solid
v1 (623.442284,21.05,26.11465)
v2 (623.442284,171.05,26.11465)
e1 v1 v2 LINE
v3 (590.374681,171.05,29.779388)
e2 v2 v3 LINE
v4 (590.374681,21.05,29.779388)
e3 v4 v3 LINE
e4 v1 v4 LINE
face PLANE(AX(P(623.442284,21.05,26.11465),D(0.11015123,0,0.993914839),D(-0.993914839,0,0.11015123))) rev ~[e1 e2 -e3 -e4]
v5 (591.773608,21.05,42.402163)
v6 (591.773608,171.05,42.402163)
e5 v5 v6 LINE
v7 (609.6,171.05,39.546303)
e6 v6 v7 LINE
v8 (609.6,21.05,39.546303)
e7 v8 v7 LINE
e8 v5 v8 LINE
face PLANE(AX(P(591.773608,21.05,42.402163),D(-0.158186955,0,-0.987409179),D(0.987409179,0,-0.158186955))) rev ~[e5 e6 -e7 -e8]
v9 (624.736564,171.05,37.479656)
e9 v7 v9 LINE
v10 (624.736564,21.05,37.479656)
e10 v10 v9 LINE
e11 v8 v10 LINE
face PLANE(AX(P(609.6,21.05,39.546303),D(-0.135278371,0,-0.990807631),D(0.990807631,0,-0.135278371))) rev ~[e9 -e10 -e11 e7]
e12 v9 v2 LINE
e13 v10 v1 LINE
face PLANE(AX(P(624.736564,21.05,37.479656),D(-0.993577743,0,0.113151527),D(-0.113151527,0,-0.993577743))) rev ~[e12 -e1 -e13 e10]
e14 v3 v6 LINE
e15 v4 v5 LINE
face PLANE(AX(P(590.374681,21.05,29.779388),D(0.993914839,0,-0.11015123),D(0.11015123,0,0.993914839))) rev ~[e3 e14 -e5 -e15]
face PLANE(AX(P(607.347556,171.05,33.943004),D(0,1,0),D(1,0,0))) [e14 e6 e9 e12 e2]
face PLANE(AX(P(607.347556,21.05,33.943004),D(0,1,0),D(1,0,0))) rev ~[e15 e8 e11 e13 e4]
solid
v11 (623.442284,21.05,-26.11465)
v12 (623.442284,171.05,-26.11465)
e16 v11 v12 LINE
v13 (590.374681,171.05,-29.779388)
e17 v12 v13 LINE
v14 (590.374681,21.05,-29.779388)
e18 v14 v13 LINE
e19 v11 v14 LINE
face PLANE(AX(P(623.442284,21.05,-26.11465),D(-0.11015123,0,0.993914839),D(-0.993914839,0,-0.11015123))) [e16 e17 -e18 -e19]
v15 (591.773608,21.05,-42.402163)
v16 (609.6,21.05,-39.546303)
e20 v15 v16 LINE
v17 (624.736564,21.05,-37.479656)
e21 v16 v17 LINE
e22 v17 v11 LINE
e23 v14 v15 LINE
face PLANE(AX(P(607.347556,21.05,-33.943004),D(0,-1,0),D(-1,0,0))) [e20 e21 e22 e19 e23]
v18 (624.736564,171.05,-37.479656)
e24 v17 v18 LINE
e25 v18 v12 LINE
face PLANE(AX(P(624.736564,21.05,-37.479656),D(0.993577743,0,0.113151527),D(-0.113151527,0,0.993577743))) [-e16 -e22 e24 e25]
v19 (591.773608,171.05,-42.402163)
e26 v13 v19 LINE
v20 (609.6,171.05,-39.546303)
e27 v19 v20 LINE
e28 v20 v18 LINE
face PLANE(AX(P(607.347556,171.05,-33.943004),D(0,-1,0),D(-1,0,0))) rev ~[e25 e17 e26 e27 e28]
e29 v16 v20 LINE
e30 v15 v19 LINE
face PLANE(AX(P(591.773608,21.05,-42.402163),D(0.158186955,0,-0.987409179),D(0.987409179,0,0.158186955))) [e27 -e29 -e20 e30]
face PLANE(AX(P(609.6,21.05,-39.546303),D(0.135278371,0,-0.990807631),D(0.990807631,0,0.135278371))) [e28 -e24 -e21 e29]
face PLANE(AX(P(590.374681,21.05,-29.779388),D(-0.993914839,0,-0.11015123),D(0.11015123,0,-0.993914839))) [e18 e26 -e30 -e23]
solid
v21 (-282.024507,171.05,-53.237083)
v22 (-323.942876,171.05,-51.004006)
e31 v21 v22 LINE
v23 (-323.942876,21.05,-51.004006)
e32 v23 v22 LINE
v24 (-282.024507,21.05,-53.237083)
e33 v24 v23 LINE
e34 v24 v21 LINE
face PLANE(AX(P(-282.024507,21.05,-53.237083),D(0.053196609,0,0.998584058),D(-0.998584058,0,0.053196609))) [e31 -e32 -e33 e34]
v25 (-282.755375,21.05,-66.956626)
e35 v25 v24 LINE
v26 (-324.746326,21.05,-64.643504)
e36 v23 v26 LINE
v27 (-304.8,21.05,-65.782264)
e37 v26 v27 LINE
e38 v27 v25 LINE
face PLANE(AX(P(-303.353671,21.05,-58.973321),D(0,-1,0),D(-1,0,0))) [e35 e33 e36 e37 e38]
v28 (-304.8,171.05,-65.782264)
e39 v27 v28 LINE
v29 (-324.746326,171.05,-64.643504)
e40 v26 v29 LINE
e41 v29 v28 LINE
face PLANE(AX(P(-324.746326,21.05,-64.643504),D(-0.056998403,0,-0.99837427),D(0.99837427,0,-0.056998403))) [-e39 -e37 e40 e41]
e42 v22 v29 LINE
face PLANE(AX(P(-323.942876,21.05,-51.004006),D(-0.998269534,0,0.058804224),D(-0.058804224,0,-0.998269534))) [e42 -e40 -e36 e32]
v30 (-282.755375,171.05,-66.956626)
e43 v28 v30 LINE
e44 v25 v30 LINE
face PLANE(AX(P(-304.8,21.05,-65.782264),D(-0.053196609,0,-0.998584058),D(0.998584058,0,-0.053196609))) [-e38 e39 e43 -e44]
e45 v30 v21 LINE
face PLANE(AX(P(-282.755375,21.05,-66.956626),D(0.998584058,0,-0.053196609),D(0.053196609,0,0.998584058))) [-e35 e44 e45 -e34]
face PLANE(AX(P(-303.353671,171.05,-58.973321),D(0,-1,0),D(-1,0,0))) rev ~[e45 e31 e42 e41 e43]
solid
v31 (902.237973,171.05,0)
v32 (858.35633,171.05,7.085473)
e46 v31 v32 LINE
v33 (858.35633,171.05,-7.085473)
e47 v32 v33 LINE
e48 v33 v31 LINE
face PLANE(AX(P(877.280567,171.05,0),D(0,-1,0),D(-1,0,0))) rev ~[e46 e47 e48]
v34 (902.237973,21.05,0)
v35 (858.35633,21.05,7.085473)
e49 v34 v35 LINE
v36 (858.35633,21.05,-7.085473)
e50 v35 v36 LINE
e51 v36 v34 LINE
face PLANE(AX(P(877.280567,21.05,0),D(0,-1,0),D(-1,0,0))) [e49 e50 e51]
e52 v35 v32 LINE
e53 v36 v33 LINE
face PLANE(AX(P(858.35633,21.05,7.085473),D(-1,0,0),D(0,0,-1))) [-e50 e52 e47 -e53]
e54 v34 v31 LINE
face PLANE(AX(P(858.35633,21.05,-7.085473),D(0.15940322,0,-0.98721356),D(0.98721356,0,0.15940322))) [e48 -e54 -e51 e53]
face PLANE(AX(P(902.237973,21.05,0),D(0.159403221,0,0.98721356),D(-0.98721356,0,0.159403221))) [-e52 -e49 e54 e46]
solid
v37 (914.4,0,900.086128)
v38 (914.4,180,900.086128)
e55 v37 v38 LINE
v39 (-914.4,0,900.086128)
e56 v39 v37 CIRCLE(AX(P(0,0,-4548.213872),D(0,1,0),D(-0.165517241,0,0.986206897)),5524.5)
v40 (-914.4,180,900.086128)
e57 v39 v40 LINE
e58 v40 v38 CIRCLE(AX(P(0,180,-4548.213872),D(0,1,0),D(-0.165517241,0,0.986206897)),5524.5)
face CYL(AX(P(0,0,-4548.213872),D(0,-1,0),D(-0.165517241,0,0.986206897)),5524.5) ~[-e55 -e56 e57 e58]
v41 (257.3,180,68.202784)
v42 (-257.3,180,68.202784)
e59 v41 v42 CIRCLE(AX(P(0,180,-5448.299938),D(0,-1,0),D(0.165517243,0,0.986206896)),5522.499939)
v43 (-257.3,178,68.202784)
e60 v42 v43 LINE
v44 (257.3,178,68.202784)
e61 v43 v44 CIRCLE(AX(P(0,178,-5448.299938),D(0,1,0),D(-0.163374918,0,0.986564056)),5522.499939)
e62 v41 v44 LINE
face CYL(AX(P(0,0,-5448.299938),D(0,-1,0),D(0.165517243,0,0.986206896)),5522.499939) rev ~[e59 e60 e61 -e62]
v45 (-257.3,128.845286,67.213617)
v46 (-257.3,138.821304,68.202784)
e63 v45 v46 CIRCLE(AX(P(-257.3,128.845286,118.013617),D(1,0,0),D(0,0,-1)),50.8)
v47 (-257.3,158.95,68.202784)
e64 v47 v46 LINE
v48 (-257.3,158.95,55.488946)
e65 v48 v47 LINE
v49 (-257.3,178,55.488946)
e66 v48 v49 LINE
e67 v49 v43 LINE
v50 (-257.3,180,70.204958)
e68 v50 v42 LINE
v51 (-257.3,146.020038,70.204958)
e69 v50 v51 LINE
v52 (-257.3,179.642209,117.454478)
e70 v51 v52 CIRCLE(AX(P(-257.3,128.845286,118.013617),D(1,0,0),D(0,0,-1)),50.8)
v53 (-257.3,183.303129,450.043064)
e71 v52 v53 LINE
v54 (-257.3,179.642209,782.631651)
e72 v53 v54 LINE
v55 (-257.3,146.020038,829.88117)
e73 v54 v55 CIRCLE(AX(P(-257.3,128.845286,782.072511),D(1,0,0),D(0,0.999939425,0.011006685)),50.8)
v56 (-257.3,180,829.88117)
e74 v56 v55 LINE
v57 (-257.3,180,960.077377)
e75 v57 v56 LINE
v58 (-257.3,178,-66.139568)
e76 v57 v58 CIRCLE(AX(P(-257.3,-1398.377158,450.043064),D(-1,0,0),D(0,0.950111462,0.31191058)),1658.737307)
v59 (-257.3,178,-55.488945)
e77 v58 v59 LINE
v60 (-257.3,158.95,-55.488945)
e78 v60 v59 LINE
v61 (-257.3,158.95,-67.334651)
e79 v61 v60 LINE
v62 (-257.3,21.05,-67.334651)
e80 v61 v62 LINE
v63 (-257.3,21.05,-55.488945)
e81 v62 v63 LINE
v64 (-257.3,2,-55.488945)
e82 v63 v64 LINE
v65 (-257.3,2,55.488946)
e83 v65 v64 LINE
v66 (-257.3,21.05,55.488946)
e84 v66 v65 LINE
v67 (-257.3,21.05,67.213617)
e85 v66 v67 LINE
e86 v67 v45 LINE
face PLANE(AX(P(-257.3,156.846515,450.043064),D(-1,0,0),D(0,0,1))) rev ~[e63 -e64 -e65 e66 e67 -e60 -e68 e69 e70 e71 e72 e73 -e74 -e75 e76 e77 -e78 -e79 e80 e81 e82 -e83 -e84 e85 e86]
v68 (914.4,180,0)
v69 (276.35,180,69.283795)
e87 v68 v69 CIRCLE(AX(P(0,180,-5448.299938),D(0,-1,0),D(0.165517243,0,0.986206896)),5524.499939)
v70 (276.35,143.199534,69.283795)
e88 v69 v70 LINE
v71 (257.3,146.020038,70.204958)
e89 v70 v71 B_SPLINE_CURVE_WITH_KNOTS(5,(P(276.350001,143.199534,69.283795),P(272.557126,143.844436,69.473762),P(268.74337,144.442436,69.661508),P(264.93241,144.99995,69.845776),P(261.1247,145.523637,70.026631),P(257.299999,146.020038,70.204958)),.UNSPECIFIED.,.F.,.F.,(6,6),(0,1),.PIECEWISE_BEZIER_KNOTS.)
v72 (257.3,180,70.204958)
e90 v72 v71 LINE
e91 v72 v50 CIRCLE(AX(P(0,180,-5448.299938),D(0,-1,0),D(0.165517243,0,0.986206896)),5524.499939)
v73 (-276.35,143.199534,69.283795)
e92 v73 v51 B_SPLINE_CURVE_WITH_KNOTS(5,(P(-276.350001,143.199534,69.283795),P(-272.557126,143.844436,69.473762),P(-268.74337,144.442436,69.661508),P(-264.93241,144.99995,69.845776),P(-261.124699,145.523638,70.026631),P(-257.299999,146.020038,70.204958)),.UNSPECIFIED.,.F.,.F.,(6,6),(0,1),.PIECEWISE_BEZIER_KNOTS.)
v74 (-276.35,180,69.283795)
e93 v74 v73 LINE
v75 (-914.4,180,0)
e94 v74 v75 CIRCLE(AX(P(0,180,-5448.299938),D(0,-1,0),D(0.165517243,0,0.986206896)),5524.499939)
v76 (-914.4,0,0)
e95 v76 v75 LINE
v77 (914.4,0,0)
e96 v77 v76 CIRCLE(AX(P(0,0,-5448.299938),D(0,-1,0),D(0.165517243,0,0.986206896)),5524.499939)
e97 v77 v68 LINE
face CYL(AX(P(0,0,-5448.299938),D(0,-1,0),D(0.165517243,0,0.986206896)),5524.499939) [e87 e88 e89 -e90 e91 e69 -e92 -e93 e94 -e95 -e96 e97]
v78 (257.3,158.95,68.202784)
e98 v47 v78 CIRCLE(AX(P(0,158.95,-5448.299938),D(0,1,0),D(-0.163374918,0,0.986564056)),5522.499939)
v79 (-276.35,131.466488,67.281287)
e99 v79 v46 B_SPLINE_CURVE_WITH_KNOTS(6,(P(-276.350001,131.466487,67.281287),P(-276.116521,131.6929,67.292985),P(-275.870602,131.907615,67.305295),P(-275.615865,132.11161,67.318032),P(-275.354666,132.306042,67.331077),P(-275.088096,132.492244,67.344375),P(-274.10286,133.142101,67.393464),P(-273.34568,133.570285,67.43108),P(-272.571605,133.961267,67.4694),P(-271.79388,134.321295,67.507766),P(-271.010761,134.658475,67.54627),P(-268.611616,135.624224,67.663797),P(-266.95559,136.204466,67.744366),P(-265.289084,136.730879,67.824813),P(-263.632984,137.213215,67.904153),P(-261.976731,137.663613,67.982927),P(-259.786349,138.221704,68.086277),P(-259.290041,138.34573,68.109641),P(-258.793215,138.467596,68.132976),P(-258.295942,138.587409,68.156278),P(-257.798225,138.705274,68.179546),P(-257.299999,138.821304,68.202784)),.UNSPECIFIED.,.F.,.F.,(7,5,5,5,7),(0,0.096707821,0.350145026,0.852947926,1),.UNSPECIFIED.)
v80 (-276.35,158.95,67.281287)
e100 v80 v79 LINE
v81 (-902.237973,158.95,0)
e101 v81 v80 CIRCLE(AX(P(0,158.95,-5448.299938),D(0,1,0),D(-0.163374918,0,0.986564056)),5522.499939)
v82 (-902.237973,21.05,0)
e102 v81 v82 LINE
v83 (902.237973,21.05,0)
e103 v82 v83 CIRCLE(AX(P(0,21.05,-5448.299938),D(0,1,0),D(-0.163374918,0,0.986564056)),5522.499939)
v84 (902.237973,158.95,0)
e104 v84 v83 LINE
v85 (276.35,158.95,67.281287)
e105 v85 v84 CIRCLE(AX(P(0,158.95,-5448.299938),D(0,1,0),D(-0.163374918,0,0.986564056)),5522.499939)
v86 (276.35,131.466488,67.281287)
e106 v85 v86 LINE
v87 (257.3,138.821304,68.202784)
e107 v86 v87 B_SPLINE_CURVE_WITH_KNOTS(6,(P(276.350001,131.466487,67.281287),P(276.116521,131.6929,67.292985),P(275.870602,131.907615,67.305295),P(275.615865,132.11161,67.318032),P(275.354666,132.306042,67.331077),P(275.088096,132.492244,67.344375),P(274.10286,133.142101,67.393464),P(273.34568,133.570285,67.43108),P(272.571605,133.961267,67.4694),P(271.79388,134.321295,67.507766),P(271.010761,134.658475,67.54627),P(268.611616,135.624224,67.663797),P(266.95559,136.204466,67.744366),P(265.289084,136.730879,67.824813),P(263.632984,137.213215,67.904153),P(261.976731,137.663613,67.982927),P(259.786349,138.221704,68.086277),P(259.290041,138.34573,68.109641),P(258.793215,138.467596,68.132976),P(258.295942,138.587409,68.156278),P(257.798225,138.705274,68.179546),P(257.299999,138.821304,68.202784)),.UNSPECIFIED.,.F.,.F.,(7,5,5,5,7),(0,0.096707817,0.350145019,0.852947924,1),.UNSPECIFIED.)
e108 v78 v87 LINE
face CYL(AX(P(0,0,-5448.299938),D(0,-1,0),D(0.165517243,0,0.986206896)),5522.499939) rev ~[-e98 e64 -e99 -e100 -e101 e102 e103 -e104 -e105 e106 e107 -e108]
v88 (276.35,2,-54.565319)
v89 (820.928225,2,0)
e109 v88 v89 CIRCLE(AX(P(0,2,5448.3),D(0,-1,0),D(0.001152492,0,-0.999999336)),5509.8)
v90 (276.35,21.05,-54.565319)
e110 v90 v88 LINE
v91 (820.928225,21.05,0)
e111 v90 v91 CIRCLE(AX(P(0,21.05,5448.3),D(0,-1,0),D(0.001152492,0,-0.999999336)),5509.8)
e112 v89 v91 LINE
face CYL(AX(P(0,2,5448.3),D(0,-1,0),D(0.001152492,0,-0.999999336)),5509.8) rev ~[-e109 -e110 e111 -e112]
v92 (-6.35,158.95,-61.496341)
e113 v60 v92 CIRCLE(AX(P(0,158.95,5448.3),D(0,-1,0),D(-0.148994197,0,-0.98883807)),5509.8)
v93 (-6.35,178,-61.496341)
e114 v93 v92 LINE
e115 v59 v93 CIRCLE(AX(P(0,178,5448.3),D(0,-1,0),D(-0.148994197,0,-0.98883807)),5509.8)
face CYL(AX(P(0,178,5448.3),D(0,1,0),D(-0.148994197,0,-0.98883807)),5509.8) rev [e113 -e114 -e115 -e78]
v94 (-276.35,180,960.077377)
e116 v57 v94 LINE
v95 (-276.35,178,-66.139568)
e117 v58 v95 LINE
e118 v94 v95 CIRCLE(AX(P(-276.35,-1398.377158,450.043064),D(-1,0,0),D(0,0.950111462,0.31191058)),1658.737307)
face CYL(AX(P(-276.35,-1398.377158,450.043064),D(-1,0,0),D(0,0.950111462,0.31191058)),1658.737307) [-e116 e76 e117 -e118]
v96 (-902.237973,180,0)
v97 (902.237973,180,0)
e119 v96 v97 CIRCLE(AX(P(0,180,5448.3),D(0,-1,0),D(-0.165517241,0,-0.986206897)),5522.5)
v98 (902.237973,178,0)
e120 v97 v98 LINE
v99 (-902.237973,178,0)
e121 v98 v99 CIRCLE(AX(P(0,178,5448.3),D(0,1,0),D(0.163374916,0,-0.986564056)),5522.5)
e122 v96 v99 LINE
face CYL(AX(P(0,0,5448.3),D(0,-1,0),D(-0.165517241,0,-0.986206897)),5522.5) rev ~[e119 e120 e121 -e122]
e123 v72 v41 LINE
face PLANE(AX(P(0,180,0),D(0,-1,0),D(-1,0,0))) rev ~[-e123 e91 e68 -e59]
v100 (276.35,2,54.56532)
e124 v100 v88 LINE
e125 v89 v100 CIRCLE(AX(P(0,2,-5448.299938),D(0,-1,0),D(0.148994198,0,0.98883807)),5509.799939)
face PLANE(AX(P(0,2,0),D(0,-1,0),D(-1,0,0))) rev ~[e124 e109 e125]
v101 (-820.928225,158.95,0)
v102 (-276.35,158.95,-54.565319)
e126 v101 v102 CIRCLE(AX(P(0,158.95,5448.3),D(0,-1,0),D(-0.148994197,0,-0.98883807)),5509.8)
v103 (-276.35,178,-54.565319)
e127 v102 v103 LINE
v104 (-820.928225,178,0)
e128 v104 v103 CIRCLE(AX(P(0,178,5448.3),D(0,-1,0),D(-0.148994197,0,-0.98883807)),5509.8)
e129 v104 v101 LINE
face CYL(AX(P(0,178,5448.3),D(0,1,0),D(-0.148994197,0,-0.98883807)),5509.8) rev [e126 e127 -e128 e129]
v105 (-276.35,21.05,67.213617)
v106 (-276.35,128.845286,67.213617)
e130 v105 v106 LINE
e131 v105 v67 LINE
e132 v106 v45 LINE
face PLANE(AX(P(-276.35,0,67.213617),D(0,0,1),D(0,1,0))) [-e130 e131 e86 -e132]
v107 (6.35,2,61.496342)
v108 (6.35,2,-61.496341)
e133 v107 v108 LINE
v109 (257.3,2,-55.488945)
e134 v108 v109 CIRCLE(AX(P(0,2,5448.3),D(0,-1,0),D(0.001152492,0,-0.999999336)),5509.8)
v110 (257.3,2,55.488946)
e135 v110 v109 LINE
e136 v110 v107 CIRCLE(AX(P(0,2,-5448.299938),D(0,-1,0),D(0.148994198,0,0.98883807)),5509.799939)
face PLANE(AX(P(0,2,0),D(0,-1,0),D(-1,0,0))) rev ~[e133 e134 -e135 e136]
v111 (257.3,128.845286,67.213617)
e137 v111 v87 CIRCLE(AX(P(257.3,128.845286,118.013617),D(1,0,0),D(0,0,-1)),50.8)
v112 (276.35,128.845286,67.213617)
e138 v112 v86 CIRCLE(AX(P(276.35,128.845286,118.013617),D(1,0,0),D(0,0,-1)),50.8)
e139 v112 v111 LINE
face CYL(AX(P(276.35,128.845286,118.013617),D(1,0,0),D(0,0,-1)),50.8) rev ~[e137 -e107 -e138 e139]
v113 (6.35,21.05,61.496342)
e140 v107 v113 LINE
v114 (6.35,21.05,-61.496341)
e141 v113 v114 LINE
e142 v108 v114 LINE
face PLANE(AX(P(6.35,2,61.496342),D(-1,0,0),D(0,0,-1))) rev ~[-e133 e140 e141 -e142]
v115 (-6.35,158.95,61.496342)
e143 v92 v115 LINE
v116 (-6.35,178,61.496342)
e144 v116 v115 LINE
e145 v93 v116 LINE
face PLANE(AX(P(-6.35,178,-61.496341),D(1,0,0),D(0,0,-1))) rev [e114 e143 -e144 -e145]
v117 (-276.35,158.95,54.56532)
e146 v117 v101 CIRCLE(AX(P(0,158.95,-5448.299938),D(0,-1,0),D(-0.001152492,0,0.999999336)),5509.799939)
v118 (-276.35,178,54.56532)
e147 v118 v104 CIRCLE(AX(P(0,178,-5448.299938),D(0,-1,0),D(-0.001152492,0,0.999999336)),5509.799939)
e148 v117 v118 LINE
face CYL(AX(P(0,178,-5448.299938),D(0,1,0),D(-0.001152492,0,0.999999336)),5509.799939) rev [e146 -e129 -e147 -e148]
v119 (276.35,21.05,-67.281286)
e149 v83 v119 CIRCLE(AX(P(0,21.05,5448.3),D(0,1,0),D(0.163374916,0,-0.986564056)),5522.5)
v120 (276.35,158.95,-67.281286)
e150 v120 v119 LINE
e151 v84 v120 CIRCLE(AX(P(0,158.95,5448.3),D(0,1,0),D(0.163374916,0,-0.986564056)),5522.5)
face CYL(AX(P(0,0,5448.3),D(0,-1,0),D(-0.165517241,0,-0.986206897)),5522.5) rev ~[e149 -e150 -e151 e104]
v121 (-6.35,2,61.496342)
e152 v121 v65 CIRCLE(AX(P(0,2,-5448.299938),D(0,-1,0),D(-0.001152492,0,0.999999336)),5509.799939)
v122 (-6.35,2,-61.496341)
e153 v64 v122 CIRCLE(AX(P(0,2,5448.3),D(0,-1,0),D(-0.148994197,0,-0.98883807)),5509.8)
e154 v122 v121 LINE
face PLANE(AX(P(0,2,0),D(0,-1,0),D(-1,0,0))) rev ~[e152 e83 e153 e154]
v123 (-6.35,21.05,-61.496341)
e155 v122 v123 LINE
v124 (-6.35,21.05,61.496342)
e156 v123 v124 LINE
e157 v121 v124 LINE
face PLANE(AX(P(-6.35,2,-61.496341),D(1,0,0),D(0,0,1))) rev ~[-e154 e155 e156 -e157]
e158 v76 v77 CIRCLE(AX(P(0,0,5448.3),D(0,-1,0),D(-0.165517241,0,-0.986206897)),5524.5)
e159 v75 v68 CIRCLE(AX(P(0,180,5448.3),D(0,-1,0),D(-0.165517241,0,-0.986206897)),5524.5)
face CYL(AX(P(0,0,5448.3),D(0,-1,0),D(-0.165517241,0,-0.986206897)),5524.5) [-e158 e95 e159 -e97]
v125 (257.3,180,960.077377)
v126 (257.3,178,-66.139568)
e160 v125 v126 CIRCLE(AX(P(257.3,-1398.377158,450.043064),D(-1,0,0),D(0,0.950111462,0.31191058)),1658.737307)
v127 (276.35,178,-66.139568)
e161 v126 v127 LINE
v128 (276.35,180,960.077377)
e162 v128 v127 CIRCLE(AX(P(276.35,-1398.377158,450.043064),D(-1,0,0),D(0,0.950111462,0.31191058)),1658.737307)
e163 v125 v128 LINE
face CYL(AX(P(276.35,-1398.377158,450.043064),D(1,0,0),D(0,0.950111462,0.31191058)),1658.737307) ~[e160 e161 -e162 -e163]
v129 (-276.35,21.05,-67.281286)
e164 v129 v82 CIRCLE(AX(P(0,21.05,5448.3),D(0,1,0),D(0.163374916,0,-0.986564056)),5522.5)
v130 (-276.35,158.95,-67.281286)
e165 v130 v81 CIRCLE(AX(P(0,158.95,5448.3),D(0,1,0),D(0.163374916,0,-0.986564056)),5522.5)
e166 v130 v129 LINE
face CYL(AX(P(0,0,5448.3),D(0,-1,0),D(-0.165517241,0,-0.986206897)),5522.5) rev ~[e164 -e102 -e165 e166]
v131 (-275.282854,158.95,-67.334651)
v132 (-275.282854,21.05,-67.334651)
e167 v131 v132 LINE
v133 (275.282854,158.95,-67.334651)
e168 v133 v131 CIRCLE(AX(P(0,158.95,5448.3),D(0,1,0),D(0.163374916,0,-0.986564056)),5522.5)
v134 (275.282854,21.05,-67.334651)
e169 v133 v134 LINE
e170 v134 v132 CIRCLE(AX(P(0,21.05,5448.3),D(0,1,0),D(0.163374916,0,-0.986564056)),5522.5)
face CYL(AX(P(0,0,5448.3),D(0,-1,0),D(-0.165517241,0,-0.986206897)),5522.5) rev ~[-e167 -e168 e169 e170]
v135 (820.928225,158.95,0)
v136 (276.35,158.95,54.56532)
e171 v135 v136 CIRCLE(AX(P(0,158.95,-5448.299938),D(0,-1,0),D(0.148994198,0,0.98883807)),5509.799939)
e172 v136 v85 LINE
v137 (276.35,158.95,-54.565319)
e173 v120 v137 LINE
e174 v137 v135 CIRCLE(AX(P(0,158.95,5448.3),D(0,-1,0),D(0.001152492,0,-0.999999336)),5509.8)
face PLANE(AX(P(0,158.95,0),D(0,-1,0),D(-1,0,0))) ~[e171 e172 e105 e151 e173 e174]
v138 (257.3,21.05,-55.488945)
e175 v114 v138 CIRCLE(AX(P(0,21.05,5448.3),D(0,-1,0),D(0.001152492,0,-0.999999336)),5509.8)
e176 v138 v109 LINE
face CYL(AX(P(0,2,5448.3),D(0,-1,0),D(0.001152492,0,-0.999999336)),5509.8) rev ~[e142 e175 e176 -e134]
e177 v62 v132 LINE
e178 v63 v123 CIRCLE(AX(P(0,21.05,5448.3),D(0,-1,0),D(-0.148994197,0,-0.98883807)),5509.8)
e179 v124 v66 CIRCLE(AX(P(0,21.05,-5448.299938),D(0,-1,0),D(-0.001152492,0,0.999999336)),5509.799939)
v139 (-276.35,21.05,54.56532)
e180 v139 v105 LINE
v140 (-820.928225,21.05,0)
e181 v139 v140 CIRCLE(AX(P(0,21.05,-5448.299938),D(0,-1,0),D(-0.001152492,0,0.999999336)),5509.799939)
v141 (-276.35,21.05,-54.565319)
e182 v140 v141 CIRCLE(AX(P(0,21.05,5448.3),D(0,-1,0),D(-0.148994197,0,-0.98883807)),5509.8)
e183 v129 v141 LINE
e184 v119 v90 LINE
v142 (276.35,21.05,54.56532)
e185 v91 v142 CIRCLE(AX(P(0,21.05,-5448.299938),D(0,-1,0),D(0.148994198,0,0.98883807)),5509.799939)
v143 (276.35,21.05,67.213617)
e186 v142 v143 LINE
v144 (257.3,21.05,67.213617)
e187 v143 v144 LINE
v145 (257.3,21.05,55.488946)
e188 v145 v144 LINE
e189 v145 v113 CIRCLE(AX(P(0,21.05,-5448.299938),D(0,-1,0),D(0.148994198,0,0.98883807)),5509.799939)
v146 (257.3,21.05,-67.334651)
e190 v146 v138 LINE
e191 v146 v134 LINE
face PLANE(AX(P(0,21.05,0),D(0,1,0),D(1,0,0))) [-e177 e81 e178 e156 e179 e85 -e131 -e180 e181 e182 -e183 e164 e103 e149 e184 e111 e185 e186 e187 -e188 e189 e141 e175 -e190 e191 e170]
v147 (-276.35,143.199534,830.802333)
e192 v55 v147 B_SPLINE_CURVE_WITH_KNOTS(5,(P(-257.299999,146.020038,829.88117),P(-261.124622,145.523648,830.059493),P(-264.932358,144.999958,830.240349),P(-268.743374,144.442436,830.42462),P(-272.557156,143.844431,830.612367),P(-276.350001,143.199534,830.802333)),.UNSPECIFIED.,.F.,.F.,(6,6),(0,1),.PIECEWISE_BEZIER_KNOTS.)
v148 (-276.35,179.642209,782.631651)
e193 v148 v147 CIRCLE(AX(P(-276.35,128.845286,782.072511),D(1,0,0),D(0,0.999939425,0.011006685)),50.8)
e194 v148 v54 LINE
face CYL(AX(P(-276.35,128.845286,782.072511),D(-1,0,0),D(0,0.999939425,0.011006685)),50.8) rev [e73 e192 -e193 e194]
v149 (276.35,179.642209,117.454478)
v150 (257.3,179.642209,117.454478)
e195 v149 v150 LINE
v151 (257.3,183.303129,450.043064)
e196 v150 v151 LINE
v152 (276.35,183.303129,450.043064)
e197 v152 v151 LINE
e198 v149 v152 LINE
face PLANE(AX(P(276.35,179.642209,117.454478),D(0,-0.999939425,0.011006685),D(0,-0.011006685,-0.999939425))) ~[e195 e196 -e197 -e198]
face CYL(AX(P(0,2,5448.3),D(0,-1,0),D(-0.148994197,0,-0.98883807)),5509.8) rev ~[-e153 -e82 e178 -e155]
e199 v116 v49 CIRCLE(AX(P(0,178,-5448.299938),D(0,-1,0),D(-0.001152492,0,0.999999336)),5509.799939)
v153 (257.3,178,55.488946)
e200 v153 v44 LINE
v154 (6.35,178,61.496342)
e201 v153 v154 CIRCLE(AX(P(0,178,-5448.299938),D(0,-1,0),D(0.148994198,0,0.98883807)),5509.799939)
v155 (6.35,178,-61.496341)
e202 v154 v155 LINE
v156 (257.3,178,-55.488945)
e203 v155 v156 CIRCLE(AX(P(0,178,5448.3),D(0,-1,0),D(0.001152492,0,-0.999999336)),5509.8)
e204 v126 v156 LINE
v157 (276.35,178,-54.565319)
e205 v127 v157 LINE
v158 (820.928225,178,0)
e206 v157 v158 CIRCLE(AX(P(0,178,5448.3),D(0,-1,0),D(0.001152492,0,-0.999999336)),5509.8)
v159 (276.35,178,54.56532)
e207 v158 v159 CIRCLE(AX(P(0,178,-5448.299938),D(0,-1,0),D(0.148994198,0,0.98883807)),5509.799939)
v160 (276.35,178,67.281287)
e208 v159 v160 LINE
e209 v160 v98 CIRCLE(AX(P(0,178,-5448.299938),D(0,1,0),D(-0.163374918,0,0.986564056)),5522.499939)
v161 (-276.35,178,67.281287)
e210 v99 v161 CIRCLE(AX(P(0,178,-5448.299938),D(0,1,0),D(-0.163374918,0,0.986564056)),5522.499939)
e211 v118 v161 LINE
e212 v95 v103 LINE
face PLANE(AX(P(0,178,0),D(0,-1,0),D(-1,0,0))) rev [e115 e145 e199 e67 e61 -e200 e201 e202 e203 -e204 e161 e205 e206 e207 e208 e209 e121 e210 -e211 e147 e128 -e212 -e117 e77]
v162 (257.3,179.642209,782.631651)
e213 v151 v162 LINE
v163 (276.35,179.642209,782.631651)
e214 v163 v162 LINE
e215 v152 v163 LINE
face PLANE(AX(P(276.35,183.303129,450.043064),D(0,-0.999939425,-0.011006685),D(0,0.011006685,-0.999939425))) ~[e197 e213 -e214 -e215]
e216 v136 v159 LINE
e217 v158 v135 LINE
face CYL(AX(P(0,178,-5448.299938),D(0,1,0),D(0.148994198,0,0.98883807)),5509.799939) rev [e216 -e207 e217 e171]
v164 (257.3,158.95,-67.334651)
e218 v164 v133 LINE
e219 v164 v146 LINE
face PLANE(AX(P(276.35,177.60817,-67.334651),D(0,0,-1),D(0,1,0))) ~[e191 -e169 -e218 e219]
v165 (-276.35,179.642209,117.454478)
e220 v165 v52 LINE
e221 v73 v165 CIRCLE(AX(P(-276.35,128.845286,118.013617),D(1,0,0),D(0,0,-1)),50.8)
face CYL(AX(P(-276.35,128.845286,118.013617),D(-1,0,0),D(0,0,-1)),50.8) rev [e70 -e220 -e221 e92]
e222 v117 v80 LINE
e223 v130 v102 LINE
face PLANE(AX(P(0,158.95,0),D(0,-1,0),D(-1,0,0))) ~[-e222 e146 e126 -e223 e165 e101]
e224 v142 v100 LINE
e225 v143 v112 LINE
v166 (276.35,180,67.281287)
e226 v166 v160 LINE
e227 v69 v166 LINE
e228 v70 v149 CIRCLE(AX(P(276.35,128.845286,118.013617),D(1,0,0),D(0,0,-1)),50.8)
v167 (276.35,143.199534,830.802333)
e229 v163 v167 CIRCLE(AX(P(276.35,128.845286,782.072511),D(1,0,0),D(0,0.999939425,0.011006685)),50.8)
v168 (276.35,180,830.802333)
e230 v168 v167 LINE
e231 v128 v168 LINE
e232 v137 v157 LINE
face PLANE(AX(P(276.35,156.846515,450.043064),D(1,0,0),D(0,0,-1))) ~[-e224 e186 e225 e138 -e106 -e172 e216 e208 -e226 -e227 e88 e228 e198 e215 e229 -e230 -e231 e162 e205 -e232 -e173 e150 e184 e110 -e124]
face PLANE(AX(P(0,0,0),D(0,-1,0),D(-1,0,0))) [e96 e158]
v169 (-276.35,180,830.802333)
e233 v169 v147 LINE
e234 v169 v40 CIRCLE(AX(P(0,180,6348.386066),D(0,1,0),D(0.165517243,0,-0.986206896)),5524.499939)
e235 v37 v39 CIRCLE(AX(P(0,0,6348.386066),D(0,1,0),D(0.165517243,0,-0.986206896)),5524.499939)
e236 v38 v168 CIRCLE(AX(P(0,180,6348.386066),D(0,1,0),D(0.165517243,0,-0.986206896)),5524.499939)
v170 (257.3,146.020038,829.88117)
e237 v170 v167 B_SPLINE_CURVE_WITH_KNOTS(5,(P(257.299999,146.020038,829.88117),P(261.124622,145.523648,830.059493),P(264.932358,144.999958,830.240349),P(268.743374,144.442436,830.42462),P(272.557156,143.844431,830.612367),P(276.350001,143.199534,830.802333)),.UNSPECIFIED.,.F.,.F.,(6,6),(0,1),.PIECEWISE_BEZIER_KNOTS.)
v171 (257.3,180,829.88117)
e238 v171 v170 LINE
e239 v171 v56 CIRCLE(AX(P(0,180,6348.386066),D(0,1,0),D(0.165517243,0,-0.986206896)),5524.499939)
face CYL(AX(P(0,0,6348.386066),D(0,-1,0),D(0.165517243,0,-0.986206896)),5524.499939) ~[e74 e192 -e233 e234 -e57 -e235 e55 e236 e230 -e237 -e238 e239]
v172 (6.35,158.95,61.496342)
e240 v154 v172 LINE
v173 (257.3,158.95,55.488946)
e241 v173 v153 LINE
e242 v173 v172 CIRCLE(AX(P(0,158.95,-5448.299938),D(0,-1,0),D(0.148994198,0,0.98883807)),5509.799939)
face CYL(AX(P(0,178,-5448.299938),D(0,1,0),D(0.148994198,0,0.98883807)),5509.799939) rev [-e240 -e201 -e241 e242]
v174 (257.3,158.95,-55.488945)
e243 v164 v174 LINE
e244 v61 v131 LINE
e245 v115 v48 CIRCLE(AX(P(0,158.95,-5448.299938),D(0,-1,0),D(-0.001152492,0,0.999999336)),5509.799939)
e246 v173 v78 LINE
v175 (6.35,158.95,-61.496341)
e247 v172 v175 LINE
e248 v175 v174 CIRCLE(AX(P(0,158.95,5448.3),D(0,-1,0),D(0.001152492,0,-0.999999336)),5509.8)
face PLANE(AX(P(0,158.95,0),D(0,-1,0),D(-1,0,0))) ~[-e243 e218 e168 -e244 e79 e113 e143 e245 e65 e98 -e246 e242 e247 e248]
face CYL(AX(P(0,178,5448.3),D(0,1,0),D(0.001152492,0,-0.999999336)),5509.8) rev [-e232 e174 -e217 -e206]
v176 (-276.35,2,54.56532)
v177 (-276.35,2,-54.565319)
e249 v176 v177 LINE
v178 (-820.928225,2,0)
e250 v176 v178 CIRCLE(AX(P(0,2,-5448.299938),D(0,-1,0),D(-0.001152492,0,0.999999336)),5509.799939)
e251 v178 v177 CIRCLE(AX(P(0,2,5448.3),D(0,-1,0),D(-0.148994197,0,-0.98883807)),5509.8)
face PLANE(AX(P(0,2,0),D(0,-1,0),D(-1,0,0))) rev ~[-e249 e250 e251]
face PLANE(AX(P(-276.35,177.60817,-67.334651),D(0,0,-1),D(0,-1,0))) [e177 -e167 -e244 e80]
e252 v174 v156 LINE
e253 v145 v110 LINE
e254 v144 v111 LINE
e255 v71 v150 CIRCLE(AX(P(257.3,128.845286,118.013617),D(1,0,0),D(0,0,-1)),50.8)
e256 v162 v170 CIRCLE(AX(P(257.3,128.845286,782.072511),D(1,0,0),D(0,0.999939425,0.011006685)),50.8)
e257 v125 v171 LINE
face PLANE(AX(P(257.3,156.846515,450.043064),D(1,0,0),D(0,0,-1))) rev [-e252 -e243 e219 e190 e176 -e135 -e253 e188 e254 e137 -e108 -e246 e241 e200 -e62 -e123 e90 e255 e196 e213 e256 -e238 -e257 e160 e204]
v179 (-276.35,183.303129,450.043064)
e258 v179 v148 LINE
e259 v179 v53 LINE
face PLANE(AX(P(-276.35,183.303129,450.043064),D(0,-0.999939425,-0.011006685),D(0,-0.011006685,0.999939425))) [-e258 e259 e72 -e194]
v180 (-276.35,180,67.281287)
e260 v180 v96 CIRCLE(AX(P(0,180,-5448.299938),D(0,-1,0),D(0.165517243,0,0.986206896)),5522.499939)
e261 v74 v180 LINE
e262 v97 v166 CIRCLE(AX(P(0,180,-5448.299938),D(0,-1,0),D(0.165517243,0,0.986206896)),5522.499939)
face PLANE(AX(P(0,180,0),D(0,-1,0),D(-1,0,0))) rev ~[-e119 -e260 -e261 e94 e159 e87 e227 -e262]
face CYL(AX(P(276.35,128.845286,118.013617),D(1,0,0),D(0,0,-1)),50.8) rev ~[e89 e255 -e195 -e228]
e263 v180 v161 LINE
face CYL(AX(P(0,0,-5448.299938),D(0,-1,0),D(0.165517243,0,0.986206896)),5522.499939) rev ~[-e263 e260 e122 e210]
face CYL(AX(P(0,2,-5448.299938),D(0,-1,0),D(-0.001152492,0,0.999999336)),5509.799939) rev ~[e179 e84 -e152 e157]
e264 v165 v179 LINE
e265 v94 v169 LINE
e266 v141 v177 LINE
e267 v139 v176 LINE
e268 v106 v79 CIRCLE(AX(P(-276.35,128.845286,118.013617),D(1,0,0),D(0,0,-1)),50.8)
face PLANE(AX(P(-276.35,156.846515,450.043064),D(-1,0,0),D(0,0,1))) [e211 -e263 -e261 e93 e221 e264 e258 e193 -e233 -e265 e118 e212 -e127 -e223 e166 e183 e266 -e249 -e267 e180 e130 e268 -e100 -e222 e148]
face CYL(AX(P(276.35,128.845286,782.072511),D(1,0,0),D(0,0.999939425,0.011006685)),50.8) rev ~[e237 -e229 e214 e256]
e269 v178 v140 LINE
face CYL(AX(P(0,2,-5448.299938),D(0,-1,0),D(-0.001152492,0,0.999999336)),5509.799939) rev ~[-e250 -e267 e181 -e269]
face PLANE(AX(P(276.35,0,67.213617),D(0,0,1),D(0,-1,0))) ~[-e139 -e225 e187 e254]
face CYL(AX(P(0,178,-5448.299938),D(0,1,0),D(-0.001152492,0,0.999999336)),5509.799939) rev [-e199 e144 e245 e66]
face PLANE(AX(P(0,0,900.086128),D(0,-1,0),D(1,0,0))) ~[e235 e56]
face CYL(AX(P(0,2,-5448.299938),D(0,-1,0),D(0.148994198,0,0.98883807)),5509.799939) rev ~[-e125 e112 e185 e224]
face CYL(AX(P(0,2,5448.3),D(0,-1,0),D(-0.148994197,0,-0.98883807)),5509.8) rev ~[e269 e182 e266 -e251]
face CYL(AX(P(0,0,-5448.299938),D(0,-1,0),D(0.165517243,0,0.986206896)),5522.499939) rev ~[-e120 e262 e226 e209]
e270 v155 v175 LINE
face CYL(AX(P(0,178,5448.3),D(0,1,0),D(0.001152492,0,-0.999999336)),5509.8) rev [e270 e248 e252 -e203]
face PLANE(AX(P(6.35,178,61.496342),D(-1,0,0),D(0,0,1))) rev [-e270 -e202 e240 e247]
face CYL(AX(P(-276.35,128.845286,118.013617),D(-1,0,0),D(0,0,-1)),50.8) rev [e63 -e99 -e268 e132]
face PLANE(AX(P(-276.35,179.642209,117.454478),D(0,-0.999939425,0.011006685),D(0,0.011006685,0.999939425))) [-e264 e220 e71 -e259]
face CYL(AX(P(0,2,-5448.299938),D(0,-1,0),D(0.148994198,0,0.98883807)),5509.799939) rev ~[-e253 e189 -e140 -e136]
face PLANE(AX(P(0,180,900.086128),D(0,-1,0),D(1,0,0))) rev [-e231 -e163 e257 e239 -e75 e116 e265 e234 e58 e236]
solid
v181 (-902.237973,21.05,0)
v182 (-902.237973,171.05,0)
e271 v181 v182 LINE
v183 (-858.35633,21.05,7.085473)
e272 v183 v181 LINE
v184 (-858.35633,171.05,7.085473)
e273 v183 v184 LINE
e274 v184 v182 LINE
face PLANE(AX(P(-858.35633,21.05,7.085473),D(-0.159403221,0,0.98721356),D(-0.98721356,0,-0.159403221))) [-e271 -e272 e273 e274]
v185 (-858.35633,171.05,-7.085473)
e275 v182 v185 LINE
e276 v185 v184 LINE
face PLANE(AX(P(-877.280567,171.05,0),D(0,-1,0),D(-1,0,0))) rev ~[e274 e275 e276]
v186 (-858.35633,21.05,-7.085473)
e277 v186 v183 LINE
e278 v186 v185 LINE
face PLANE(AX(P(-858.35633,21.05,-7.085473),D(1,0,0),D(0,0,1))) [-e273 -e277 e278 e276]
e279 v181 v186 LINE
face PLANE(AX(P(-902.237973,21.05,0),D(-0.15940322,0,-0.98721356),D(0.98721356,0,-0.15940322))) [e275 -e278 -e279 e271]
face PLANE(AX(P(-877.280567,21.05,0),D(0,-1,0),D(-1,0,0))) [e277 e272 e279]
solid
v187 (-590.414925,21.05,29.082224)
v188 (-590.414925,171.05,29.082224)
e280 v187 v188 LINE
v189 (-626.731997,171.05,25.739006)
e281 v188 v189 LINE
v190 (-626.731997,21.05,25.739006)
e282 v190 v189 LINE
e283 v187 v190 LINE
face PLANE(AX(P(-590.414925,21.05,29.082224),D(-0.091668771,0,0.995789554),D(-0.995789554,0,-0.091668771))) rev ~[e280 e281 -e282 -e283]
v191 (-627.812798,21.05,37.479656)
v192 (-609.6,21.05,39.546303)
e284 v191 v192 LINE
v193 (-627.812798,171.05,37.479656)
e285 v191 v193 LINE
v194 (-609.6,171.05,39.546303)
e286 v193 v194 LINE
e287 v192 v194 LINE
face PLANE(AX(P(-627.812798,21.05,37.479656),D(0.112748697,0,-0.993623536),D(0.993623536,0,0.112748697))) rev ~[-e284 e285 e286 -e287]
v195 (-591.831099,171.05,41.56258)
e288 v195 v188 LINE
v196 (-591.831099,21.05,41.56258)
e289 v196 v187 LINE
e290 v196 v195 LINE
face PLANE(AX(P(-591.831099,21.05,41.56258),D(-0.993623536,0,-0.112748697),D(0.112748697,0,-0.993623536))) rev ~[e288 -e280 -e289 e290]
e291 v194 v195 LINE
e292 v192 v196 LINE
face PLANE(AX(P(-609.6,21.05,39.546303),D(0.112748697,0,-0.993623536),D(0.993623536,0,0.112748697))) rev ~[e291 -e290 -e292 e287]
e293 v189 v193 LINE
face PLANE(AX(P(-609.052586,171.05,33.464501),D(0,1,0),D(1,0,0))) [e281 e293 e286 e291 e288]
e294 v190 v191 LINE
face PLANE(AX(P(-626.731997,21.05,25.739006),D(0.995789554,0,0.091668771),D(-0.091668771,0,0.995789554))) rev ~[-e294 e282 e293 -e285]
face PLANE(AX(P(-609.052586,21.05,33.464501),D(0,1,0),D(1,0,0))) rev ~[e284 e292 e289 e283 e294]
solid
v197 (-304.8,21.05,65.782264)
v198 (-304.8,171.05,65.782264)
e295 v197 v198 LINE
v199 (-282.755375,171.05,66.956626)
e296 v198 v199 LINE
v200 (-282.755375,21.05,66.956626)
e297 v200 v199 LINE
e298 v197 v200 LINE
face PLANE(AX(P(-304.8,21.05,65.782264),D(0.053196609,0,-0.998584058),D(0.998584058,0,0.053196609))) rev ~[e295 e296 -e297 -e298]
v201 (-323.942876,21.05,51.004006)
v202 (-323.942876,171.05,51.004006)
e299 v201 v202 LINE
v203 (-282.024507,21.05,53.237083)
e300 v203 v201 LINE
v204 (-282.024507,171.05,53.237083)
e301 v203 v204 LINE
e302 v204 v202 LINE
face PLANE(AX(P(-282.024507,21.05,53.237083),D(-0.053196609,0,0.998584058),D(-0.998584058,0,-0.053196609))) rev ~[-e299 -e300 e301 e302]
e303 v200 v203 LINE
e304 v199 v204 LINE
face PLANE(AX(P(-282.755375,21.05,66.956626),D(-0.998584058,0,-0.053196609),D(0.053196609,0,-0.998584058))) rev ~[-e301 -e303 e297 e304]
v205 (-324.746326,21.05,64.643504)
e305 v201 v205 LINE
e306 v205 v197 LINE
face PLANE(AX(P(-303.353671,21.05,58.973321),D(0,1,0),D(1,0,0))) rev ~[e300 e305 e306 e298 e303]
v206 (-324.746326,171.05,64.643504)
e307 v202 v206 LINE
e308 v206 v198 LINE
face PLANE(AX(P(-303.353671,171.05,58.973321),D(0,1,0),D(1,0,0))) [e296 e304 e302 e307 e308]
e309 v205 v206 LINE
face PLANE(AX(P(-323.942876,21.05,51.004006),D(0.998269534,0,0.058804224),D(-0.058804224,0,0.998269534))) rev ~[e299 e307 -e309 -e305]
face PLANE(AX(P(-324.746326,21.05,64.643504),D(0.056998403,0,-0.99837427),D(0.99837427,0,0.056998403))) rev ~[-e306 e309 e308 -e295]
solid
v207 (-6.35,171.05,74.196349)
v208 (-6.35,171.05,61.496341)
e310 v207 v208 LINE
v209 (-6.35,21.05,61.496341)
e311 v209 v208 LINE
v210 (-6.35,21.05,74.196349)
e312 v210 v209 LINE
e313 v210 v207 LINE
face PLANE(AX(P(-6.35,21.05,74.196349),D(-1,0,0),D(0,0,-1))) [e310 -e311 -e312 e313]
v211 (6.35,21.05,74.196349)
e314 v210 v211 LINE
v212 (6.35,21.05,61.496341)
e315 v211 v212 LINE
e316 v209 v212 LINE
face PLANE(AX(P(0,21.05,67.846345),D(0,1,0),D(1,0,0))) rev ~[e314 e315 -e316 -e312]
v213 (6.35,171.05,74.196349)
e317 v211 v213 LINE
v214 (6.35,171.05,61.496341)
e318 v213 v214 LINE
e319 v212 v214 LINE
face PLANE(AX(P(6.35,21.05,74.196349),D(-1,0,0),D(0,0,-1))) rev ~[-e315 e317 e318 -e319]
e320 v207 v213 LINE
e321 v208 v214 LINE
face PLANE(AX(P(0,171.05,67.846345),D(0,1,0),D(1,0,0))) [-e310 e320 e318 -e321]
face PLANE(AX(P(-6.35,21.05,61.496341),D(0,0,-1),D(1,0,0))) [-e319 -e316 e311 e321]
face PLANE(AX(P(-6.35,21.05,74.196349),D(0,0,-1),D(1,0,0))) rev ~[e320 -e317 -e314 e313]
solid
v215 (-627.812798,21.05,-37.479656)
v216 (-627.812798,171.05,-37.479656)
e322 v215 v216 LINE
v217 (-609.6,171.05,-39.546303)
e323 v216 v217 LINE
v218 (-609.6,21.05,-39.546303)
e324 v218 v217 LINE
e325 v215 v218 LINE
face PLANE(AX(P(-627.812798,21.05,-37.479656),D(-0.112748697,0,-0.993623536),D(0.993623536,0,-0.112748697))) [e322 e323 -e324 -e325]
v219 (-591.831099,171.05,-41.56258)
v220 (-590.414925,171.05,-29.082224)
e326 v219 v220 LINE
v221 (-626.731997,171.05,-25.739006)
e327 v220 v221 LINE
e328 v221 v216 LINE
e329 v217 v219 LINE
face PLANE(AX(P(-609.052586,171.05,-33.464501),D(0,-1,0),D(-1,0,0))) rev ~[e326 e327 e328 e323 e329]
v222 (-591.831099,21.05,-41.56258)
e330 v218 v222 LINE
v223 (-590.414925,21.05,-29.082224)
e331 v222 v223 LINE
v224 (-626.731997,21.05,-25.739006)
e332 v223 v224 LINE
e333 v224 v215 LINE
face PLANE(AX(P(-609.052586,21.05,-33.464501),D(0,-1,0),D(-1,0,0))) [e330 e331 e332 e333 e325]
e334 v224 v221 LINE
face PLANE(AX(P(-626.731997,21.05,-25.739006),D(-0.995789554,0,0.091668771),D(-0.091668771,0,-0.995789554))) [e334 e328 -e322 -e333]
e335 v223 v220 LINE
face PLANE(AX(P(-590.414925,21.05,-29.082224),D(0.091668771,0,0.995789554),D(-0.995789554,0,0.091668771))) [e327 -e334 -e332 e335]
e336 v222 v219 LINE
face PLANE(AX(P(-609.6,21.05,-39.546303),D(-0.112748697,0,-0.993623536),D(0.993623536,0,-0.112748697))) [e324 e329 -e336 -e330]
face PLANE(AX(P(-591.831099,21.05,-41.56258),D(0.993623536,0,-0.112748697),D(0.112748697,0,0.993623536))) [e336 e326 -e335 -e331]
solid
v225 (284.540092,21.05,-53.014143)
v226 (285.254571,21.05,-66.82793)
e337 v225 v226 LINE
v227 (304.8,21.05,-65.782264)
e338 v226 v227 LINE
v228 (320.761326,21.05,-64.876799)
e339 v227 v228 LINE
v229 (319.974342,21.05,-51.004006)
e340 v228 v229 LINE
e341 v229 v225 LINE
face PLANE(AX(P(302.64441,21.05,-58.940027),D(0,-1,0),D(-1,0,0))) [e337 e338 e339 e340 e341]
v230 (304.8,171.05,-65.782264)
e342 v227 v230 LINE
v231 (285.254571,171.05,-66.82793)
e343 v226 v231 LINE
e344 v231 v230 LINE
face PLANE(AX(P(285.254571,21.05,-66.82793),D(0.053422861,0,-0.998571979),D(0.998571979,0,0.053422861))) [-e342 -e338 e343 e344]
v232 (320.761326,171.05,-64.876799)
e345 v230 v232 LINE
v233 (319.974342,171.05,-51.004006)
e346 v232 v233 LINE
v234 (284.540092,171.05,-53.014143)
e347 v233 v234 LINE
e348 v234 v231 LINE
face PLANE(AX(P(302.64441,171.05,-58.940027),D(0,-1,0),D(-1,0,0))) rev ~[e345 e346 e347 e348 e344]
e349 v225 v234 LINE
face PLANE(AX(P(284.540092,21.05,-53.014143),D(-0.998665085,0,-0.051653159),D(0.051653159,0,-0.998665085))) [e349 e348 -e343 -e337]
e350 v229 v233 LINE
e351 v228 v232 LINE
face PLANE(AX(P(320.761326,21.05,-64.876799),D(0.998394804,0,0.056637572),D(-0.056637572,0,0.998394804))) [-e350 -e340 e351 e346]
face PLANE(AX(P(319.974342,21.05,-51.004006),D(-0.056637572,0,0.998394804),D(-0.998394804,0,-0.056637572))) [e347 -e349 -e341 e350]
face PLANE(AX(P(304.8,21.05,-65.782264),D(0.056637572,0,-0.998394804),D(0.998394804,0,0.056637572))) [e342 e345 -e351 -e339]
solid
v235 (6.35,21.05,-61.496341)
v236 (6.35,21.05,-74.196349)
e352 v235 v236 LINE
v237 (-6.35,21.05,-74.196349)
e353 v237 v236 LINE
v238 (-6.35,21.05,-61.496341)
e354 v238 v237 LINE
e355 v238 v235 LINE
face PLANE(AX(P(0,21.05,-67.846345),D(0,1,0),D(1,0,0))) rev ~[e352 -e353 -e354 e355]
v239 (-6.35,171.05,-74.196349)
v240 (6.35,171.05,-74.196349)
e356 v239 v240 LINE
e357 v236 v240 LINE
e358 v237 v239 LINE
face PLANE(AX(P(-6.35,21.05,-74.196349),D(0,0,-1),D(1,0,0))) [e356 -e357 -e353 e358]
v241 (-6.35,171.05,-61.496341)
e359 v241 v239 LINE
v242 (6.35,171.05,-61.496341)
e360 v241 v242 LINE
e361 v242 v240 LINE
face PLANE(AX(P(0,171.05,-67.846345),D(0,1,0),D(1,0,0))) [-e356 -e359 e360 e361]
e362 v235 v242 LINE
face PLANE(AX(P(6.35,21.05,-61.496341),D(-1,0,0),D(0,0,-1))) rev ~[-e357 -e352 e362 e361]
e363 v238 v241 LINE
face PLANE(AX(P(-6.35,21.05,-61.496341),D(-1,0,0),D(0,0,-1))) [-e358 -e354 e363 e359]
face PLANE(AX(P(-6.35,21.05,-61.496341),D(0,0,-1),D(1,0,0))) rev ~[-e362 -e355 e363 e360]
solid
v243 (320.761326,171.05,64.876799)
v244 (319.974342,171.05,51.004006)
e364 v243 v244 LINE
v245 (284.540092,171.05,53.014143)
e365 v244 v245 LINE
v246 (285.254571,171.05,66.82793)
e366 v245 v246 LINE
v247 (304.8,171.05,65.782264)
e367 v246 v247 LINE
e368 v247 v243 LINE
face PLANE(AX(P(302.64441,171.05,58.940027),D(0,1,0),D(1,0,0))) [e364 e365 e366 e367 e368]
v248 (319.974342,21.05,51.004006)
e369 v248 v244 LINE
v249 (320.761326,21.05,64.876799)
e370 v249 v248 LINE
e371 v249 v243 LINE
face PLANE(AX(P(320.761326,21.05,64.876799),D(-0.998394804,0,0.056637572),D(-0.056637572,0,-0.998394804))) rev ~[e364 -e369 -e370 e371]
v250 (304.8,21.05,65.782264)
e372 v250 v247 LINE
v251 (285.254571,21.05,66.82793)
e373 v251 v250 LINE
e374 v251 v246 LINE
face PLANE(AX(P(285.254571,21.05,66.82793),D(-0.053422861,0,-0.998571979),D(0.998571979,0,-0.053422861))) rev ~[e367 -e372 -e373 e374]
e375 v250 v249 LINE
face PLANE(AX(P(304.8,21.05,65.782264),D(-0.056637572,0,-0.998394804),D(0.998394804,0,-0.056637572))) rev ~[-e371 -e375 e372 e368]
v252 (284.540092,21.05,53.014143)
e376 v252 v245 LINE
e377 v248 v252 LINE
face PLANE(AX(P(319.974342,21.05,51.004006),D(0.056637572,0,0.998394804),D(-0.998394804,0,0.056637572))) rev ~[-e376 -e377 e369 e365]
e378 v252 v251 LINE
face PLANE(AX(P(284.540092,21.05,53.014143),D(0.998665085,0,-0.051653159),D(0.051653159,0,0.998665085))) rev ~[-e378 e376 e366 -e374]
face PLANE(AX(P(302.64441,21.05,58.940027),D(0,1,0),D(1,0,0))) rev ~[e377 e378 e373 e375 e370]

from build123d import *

# Parameters (mm, degrees)
BOSS_EXTRUDE1_DEPTH    = 180
SHELL4_T               = -2
BOSS_EXTRUDE2_DEPTH    = 19.05
BOSS_EXTRUDE7_DEPTH    = 150
BOSS_EXTRUDE7_2_DEPTH  = 150
BOSS_EXTRUDE7_3_DEPTH  = 150
BOSS_EXTRUDE7_4_DEPTH  = 150
BOSS_EXTRUDE7_5_DEPTH  = 150
SKETCH5_W              = 12.7
SKETCH5_H              = 12.700008415
BOSS_EXTRUDE7_6_DEPTH  = 150
BOSS_EXTRUDE7_7_DEPTH  = 150
BOSS_EXTRUDE7_8_DEPTH  = 150
BOSS_EXTRUDE7_9_DEPTH  = 150
BOSS_EXTRUDE7_10_DEPTH = 150
BOSS_EXTRUDE7_11_DEPTH = 150
BOSS_EXTRUDE7_12_DEPTH = 150
BOSS_EXTRUDE8_DEPTH    = 19.05


with BuildPart() as part:
    # Sketch1 → Boss-Extrude1 (new body)
    with BuildSketch(Plane(origin=(0, 0, 0), x_dir=(1, 0, 0), z_dir=(0, 1, 0))):
        with BuildLine():
            ThreePointArc((-914.4, 0), (0, 76.2), (914.4, 0))
            ThreePointArc((914.4, 0), (0, -76.200000855), (-914.4, 0))
        make_face()
    boss_extrude1 = extrude(amount=BOSS_EXTRUDE1_DEPTH)

    # Shell4
    shell4_openings = [part.faces().sort_by_distance(p)[0] for p in [
        (0, 180, 3.43e-07),
    ]]
    offset(amount=SHELL4_T, openings=shell4_openings)

    # Sketch4 → Boss-Extrude2 (add)
    with BuildSketch(Plane(origin=(0, 2, 0), x_dir=(1, 0, 0), z_dir=(0, 1, 0))):
        with BuildLine():
            ThreePointArc((-902.23797311, -1.1e-08), (0, -74.200000855), (902.23797311, -1.1e-08))
            ThreePointArc((902.23797311, -1.1e-08), (0, 74.2), (-902.23797311, -1.1e-08))
        make_face()
        with BuildLine():
            ThreePointArc((-820.928225181, -8.2e-08), (-414.780382192, 45.86538471), (-6.35, 61.496340837))
            Line((-6.35, 61.496340837), (-6.35, -61.496341692))
            ThreePointArc((-6.35, -61.496341692), (-414.780382217, -45.865385389), (-820.928225181, -8.2e-08))
        make_face(mode=Mode.SUBTRACT)
        with BuildLine():
            Line((6.35, -61.496341692), (6.35, 61.496340837))
            ThreePointArc((6.35, 61.496340837), (414.780382192, 45.86538471), (820.928225181, -8.2e-08))
            ThreePointArc((820.928225181, -8.2e-08), (414.780382217, -45.865385389), (6.35, -61.496341692))
        make_face(mode=Mode.SUBTRACT)
    boss_extrude2 = extrude(amount=BOSS_EXTRUDE2_DEPTH)

    # Mirror1: Boss-Extrude2 across plane
    add(boss_extrude2.mirror(Plane.ZX.offset(90)))

    # Sketch9 → Boss-Extrude8 (add)
    with BuildSketch(Plane.ZY.offset(276.35)):
        with BuildLine():
            Line((117.454477565, 179.642208922), (450.043064057, 183.303128562))
            Line((450.043064057, 183.303128562), (782.631650549, 179.642208922))
            ThreePointArc((782.631650549, 179.642208922), (818.190680136, 164.568077951), (832.87251094, 128.845286152))
            Line((832.87251094, 128.845286152), (832.87251094, 0))
            Line((832.87251094, 0), (967.420778825, 0))
            Line((967.420778825, 0), (967.420778825, 177.608169943))
            ThreePointArc((967.420778825, 177.608169943), (450.043064057, 260.360149015), (-67.33465071, 177.608169943))
            Line((-67.33465071, 177.608169943), (-67.33465071, 0))
            Line((-67.33465071, 0), (67.213617174, 0))
            Line((67.213617174, 0), (67.213617174, 128.845286152))
            ThreePointArc((67.213617174, 128.845286152), (81.895447978, 164.568077951), (117.454477565, 179.642208922))
        make_face()
    boss_extrude8 = extrude(amount=-BOSS_EXTRUDE8_DEPTH)

    # Mirror2: Boss-Extrude8 across plane
    add(boss_extrude8.mirror(Plane(origin=(0, 0, 0), x_dir=(0, 0, 1), z_dir=(1, 0, 0))))

    # Mirror7: Boss-Extrude1 across plane
    add(boss_extrude1.mirror(Plane.XY.offset(450.043064057)))


with BuildPart() as body_2:
    # Sketch5 → Boss-Extrude7 (new body)
    with BuildSketch(Plane(origin=(0, 21.05, 0), x_dir=(1, 0, 0), z_dir=(0, 1, 0))):
        Polygon((-902.23797311, -1.1e-08), (-858.356330357, 7.085473102), (-858.356330357, -7.085473205), align=None)
    extrude(amount=BOSS_EXTRUDE7_DEPTH)


with BuildPart() as body_3:
    # Sketch5 → Boss-Extrude7 2 (new body)
    with BuildSketch(Plane(origin=(0, 21.05, 0), x_dir=(1, 0, 0), z_dir=(0, 1, 0))):
        Polygon((902.23797311, -1.1e-08), (858.356330357, -7.085473205), (858.356330357, 7.085473102), align=None)
    extrude(amount=BOSS_EXTRUDE7_2_DEPTH)


with BuildPart() as body_4:
    # Sketch5 → Boss-Extrude7 3 (new body)
    with BuildSketch(Plane(origin=(0, 21.05, 0), x_dir=(1, 0, 0), z_dir=(0, 1, 0))):
        Polygon((591.773607758, -42.4021634), (609.6, -39.54630307), (624.736564434, -37.479655913), (623.442284438, -26.114649803), (590.374680772, -29.77938755), align=None)
    extrude(amount=BOSS_EXTRUDE7_3_DEPTH)


with BuildPart() as body_5:
    # Sketch5 → Boss-Extrude7 4 (new body)
    with BuildSketch(Plane(origin=(0, 21.05, 0), x_dir=(1, 0, 0), z_dir=(0, 1, 0))):
        Polygon((-609.6, 39.54630307), (-591.831098658, 41.56258026), (-590.414924603, 29.082224285), (-626.731996566, 25.739006481), (-627.812798131, 37.479655913), align=None)
    extrude(amount=BOSS_EXTRUDE7_4_DEPTH)


with BuildPart() as body_6:
    # Sketch5 → Boss-Extrude7 5 (new body)
    with BuildSketch(Plane(origin=(0, 21.05, 0), x_dir=(1, 0, 0), z_dir=(0, 1, 0))):
        Polygon((-304.8, 65.782263623), (-282.755374568, 66.956625775), (-282.024506562, 53.237083292), (-323.942875926, 51.004006272), (-324.746326322, 64.643503569), align=None)
    extrude(amount=BOSS_EXTRUDE7_5_DEPTH)


with BuildPart() as body_7:
    # Sketch5 → Boss-Extrude7 6 (new body)
    with BuildSketch(Plane(origin=(0, 21.05, 0), x_dir=(1, 0, 0), z_dir=(0, 1, 0))):
        with Locations((0, 67.846345044)):
            Rectangle(SKETCH5_W, SKETCH5_H)
    extrude(amount=BOSS_EXTRUDE7_6_DEPTH)


with BuildPart() as body_8:
    # Sketch5 → Boss-Extrude7 7 (new body)
    with BuildSketch(Plane(origin=(0, 21.05, 0), x_dir=(1, 0, 0), z_dir=(0, 1, 0))):
        Polygon((304.8, 65.782263623), (320.761326174, 64.876799417), (319.974341591, 51.004006272), (284.540091912, 53.014142798), (285.254571408, 66.827929567), align=None)
    extrude(amount=BOSS_EXTRUDE7_7_DEPTH)


with BuildPart() as body_9:
    # Sketch5 → Boss-Extrude7 8 (new body)
    with BuildSketch(Plane(origin=(0, 21.05, 0), x_dir=(1, 0, 0), z_dir=(0, 1, 0))):
        Polygon((609.6, 39.54630307), (624.736564434, 37.479655913), (623.442284438, 26.114649803), (590.374680772, 29.77938755), (591.773607758, 42.4021634), align=None)
    extrude(amount=BOSS_EXTRUDE7_8_DEPTH)


with BuildPart() as body_10:
    # Sketch5 → Boss-Extrude7 9 (new body)
    with BuildSketch(Plane(origin=(0, 21.05, 0), x_dir=(1, 0, 0), z_dir=(0, 1, 0))):
        Polygon((285.254571408, -66.827929567), (304.8, -65.782263623), (320.761326174, -64.876799417), (319.974341591, -51.004006272), (284.540091912, -53.014142798), align=None)
    extrude(amount=BOSS_EXTRUDE7_9_DEPTH)


with BuildPart() as body_11:
    # Sketch5 → Boss-Extrude7 10 (new body)
    with BuildSketch(Plane(origin=(0, 21.05, 0), x_dir=(1, 0, 0), z_dir=(0, 1, 0))):
        with Locations((0, -67.846345044)):
            Rectangle(SKETCH5_W, SKETCH5_H)
    extrude(amount=BOSS_EXTRUDE7_10_DEPTH)


with BuildPart() as body_12:
    # Sketch5 → Boss-Extrude7 11 (new body)
    with BuildSketch(Plane(origin=(0, 21.05, 0), x_dir=(1, 0, 0), z_dir=(0, 1, 0))):
        Polygon((-324.746326322, -64.643503569), (-304.8, -65.782263623), (-282.755374568, -66.956625775), (-282.024506562, -53.237083292), (-323.942875926, -51.004006272), align=None)
    extrude(amount=BOSS_EXTRUDE7_11_DEPTH)


with BuildPart() as body_13:
    # Sketch5 → Boss-Extrude7 12 (new body)
    with BuildSketch(Plane(origin=(0, 21.05, 0), x_dir=(1, 0, 0), z_dir=(0, 1, 0))):
        Polygon((-627.812798131, -37.479655913), (-609.6, -39.54630307), (-591.831098658, -41.56258026), (-590.414924603, -29.082224285), (-626.731996566, -25.739006481), align=None)
    extrude(amount=BOSS_EXTRUDE7_12_DEPTH)


solid = Compound([part.part, body_2.part, body_3.part, body_4.part, body_5.part, body_6.part, body_7.part, body_8.part, body_9.part, body_10.part, body_11.part, body_12.part, body_13.part])
